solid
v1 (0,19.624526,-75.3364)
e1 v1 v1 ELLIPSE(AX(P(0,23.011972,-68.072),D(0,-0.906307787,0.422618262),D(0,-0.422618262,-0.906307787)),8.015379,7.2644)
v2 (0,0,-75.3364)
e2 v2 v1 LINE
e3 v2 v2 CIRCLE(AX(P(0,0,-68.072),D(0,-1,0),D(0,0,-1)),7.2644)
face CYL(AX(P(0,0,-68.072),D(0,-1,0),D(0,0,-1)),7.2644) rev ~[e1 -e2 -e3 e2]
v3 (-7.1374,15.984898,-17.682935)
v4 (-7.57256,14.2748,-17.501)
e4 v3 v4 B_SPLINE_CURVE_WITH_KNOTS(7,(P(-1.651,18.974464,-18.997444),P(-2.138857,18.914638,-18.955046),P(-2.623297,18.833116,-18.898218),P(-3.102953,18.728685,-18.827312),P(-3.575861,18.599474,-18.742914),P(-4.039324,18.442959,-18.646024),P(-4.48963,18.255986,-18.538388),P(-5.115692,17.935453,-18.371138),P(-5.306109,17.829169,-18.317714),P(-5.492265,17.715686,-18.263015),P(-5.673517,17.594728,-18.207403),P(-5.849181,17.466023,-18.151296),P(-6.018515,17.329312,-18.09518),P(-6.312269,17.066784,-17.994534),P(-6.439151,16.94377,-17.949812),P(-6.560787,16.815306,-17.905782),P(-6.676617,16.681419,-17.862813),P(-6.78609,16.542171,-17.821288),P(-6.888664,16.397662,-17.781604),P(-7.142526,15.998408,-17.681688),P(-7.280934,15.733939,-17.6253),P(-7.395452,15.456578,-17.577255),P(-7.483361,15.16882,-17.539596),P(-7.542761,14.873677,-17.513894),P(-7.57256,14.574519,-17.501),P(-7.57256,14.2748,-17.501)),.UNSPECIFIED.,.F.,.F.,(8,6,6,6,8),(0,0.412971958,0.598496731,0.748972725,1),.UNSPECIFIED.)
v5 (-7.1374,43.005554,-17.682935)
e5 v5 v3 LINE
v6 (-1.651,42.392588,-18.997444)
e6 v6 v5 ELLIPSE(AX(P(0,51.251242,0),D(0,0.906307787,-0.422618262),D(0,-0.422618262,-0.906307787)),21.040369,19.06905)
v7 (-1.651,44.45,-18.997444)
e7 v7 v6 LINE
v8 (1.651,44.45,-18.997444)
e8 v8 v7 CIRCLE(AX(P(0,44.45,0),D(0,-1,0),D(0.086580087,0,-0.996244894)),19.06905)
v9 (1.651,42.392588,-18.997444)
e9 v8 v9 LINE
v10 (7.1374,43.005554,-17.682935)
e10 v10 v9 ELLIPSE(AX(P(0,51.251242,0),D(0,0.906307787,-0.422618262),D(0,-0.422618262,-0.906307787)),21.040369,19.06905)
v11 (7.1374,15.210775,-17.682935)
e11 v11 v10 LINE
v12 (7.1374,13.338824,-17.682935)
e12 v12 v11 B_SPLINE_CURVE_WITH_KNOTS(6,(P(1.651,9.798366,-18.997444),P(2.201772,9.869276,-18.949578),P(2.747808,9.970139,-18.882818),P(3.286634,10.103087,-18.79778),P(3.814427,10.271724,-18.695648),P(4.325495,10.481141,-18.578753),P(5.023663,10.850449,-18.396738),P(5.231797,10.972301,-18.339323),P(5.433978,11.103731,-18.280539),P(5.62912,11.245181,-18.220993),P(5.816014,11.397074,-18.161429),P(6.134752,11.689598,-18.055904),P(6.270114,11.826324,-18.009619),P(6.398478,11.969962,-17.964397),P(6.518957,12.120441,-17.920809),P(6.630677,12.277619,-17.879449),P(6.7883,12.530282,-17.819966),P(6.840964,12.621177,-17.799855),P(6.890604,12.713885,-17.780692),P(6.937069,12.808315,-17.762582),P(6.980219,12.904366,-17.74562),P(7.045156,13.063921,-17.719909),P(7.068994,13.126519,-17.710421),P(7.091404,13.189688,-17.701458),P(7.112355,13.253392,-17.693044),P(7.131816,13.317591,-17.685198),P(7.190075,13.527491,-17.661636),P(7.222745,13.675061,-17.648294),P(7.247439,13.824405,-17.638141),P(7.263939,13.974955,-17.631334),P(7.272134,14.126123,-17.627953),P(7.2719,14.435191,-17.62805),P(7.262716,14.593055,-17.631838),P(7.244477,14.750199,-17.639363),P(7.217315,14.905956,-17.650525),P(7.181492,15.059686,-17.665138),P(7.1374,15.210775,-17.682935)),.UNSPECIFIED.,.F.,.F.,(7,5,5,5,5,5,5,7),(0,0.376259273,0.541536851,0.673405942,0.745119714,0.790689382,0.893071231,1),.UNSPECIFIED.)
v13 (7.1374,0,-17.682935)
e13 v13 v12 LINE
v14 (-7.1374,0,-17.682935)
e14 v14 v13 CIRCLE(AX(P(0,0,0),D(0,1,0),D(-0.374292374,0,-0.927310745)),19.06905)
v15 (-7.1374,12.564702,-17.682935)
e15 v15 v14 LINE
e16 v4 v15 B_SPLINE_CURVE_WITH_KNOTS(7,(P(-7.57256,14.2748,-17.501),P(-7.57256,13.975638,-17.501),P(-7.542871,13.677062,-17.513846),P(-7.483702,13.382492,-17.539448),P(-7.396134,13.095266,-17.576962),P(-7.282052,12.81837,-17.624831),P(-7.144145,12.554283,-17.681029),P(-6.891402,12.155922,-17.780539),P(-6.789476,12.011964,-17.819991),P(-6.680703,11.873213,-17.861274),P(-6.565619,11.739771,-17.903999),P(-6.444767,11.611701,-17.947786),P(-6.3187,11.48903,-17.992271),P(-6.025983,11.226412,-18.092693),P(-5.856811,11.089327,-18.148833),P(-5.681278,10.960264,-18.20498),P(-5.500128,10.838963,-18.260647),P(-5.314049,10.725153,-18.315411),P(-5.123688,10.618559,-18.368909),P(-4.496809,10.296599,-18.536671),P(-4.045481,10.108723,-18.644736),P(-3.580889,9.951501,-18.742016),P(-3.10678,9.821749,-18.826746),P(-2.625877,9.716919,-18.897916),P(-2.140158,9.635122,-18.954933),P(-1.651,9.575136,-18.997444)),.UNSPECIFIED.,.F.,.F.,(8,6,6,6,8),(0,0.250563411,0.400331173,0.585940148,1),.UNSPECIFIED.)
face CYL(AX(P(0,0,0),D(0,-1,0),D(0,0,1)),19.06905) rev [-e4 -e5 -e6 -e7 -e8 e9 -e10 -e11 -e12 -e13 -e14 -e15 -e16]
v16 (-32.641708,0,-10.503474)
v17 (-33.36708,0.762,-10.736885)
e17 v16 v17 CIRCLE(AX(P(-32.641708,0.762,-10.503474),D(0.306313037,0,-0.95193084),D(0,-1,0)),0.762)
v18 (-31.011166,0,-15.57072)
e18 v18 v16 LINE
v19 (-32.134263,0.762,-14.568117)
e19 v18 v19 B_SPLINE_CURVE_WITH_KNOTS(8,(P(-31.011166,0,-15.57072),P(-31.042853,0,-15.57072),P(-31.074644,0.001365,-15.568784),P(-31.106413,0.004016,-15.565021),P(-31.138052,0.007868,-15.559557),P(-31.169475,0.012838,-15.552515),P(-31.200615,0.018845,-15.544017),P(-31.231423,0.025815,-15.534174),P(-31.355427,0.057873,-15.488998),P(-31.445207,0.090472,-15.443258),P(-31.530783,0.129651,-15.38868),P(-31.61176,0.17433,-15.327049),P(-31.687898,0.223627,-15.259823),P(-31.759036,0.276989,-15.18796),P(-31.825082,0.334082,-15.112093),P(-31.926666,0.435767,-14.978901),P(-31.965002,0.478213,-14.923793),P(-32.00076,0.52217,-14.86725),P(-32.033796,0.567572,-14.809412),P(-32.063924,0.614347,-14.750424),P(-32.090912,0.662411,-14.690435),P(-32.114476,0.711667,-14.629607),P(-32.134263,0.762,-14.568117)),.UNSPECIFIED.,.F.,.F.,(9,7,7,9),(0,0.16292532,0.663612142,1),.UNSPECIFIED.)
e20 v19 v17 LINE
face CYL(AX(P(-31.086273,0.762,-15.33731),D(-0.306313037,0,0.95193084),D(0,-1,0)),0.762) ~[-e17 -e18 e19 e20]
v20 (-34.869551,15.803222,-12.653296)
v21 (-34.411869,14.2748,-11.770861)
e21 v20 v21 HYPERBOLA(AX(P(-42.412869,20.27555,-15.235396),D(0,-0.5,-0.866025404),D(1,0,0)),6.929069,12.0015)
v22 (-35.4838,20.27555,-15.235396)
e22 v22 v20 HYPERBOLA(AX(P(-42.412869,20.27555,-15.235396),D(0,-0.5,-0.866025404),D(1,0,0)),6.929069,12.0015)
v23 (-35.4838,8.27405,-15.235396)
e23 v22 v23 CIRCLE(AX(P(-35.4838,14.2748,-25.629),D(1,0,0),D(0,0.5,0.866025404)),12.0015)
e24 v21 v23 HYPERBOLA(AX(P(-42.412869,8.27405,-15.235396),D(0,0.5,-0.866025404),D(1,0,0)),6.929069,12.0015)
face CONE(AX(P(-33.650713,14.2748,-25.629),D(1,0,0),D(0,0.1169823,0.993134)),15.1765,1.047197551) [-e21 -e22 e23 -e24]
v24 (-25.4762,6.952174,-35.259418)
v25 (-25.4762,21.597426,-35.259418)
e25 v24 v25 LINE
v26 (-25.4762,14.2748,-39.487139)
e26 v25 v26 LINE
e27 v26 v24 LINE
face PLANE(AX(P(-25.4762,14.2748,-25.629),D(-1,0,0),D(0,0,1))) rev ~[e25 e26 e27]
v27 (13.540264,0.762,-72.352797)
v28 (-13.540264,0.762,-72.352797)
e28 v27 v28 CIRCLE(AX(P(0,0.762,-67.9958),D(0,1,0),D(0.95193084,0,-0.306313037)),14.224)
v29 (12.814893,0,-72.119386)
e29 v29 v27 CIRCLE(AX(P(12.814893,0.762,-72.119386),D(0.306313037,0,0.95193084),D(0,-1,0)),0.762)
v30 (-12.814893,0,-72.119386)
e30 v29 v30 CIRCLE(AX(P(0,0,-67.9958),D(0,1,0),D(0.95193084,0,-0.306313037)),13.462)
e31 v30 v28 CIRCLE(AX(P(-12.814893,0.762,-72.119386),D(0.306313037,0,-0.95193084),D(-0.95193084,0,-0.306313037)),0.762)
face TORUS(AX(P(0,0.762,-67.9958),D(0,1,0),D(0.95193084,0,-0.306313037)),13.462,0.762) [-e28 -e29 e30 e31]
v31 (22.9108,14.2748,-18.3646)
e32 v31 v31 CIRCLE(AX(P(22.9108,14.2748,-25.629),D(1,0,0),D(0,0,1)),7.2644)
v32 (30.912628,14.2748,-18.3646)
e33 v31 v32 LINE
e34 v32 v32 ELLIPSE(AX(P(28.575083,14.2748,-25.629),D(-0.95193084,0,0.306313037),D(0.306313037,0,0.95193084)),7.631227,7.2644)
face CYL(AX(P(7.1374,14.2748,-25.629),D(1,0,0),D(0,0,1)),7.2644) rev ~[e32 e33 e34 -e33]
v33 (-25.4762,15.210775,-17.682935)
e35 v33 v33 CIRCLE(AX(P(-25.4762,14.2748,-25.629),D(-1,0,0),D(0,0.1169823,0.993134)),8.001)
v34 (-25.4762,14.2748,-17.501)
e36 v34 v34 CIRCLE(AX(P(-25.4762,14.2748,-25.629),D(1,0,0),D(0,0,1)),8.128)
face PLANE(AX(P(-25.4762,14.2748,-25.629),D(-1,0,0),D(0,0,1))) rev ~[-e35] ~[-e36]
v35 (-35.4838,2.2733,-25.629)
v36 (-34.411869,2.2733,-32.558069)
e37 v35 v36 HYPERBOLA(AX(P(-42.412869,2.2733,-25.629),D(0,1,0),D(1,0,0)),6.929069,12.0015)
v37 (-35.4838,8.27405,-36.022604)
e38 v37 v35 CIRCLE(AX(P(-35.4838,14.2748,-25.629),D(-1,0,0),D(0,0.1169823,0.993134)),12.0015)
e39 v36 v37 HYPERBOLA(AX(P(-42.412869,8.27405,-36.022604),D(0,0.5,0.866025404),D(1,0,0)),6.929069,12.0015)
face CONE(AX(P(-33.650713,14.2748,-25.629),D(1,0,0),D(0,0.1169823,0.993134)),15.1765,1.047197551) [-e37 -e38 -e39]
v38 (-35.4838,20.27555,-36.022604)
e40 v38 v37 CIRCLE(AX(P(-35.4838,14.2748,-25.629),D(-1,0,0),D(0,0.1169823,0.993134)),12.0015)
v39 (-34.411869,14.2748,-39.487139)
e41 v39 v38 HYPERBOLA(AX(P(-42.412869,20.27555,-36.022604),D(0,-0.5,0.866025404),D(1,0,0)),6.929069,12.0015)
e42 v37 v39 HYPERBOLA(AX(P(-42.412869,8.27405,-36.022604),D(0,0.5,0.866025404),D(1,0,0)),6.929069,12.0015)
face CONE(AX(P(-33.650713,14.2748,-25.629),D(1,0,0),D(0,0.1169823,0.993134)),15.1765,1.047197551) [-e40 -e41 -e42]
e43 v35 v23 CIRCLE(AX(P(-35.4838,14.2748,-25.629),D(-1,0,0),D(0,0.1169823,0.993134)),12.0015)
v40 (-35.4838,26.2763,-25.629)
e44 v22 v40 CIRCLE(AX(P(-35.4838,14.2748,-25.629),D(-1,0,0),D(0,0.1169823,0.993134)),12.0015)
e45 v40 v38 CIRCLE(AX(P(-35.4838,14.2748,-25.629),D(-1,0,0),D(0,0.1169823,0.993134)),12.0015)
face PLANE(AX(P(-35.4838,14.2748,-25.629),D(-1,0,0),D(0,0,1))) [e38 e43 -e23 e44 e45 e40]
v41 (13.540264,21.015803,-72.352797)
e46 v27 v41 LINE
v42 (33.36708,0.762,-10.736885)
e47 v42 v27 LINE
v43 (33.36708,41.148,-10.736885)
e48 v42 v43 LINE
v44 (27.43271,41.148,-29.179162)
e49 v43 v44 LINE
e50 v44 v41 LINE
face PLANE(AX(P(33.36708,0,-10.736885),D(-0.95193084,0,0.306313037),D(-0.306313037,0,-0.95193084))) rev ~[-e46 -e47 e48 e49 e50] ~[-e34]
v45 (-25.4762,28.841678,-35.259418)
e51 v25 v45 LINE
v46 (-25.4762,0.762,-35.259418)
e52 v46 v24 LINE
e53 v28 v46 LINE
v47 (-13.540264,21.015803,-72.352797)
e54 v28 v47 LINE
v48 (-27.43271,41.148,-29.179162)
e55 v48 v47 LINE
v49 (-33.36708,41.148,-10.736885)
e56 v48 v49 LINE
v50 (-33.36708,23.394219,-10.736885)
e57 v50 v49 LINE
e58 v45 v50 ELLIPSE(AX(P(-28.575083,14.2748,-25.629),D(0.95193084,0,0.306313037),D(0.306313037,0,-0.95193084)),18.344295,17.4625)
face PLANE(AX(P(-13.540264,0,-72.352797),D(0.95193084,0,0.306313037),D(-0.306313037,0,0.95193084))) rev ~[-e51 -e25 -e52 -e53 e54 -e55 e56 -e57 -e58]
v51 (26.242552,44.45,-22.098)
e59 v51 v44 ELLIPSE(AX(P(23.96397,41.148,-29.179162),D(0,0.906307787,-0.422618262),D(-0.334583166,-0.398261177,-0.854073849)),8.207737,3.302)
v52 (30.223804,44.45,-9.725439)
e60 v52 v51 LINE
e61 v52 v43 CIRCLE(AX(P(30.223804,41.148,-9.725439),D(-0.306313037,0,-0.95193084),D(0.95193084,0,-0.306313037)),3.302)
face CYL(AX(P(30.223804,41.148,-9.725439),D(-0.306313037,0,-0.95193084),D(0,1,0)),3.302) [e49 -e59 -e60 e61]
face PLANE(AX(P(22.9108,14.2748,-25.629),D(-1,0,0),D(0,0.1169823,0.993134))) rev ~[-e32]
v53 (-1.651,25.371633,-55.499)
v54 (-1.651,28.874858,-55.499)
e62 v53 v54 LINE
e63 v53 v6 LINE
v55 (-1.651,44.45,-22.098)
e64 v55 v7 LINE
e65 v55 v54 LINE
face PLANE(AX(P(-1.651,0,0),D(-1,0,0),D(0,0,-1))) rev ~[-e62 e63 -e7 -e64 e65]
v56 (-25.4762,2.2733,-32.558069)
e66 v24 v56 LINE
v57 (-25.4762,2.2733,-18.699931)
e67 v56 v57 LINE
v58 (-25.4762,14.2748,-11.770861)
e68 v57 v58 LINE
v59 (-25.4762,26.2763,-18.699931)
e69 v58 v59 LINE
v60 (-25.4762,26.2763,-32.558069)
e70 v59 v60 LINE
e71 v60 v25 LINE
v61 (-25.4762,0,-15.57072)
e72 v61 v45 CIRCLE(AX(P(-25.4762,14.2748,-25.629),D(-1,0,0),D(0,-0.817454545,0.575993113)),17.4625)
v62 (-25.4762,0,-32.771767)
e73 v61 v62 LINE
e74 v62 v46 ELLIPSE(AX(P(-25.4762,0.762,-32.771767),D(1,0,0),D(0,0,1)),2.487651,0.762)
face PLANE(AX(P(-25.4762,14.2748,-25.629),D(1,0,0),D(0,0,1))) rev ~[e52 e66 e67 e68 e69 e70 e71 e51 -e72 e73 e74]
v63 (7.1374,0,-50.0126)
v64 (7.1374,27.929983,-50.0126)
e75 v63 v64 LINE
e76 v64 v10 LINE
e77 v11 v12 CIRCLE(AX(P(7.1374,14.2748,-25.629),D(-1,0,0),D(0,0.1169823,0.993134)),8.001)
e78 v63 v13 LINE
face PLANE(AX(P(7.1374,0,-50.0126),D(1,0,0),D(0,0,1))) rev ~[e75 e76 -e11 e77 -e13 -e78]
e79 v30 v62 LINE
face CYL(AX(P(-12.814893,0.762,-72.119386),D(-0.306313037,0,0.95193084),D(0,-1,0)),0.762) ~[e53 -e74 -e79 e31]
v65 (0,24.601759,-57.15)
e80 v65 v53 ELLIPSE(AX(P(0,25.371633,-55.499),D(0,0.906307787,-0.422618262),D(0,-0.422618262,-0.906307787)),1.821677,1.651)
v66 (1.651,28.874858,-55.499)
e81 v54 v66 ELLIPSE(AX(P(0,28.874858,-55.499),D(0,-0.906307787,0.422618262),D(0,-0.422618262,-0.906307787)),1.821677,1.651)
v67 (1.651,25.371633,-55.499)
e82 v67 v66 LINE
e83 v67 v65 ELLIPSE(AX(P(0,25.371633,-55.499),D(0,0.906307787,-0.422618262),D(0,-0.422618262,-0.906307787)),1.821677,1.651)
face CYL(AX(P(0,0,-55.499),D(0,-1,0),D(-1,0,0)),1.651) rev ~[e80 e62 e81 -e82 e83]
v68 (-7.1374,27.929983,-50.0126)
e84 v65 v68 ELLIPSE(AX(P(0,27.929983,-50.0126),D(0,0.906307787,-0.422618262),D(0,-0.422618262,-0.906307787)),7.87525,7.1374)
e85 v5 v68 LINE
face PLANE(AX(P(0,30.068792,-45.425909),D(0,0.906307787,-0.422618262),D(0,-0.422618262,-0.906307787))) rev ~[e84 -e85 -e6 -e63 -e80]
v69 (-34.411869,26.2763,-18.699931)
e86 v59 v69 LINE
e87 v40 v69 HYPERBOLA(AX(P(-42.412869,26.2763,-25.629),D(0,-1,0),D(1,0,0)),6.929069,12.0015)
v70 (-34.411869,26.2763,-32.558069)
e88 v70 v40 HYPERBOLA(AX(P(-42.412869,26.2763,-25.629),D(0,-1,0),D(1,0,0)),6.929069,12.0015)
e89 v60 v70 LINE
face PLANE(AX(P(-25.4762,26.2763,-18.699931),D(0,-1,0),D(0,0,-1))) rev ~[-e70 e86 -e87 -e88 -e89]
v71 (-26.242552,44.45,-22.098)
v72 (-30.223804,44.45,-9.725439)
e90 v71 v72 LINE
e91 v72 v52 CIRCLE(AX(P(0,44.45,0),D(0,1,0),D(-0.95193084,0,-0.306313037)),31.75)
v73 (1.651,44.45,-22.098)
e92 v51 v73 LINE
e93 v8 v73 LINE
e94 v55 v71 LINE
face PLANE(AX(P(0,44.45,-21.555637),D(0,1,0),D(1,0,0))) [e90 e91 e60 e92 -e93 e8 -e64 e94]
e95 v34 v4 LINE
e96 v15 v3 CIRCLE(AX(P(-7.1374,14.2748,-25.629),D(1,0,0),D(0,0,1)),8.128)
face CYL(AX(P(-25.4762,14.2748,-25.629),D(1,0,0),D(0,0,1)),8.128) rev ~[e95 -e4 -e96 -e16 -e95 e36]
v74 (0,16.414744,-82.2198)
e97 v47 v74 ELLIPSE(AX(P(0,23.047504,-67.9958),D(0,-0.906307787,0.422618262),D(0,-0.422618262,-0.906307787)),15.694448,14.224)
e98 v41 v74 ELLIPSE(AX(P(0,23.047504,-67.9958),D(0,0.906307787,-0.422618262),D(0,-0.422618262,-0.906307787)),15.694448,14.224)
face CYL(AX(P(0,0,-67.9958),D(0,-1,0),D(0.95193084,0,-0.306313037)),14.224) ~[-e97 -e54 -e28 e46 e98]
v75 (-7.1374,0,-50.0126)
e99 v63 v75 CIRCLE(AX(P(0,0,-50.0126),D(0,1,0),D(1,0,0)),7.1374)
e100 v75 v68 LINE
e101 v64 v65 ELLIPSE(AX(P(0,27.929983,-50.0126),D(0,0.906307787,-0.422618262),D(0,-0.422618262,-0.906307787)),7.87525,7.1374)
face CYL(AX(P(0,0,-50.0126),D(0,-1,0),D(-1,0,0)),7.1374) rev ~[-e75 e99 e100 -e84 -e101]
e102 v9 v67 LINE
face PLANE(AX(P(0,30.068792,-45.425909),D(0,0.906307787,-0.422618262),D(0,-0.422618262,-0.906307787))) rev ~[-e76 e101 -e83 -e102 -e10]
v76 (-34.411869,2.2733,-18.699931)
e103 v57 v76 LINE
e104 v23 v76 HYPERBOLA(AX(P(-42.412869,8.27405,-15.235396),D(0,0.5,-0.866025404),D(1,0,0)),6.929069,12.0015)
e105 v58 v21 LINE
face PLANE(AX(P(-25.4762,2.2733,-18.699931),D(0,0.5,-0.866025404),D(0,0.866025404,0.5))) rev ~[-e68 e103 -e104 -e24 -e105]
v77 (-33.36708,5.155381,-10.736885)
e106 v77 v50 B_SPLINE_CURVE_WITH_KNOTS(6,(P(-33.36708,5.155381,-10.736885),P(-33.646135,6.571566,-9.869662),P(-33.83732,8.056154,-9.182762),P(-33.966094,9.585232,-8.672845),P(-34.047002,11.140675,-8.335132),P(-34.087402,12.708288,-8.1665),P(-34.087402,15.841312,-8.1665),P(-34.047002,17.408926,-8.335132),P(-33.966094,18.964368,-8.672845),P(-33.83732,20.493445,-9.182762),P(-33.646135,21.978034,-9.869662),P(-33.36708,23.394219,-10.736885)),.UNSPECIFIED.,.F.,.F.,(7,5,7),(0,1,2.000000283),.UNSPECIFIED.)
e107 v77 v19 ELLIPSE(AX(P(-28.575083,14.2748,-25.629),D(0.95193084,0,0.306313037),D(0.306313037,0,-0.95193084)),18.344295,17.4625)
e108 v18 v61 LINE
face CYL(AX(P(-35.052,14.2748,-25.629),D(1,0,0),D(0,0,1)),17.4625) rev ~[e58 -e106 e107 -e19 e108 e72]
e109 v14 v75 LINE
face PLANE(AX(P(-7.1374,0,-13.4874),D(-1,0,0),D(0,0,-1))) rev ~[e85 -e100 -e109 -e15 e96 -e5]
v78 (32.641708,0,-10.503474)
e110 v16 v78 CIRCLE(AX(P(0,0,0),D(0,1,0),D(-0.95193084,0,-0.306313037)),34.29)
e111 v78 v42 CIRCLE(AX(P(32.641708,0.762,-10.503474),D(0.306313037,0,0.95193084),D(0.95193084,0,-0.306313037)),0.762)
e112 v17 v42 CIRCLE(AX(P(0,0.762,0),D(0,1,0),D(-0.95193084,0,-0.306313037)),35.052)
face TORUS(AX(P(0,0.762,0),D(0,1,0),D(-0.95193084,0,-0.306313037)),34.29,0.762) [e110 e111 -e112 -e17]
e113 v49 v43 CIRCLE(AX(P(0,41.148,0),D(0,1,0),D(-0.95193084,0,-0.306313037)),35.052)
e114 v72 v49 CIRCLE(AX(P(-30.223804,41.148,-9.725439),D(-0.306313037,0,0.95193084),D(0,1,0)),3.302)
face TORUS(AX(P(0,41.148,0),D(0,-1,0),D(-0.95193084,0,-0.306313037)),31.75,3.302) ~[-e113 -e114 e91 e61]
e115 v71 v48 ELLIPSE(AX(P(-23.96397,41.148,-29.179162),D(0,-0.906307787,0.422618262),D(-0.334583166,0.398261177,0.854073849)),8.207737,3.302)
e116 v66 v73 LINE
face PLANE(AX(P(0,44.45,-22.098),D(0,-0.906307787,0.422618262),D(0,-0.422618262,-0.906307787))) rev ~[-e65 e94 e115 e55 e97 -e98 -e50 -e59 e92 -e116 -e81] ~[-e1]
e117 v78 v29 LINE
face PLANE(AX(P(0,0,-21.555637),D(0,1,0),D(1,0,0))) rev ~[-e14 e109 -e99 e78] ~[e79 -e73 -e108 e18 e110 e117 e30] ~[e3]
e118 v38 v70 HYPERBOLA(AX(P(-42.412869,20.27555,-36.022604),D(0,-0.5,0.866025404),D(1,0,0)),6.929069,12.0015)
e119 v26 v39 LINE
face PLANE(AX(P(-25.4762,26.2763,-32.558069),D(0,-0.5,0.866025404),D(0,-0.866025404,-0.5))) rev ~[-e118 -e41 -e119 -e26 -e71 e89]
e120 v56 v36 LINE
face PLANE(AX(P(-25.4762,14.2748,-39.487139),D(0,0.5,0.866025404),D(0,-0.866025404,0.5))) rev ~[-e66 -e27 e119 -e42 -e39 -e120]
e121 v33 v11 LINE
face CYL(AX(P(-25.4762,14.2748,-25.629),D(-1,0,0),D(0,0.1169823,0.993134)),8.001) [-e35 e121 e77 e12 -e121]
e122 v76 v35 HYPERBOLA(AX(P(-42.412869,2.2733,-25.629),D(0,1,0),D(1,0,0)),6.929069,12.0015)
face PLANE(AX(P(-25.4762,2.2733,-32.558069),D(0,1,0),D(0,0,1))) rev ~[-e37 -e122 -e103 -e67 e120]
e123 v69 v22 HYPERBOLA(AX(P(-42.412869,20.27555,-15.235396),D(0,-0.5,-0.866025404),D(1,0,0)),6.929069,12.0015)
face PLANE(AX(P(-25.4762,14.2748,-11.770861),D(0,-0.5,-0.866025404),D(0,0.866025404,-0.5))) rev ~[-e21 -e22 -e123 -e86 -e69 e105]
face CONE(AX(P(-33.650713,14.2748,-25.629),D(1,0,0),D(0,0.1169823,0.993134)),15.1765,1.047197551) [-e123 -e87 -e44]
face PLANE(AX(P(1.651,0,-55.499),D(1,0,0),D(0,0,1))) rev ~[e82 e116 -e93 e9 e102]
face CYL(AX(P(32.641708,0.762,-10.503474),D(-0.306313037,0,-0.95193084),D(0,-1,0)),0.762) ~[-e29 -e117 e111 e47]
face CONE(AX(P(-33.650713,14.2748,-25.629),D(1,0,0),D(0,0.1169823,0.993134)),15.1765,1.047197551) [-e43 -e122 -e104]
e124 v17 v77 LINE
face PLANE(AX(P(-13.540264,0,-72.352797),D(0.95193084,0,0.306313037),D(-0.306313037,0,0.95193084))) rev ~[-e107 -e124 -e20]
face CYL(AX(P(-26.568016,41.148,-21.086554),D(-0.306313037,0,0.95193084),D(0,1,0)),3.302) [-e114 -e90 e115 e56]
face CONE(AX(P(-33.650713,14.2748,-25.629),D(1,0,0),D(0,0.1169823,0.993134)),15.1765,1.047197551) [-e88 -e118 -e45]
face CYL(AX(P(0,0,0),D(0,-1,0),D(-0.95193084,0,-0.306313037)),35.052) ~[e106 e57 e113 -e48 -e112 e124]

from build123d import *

# Parameters (mm, degrees)
SKETCH1_R                        = 19.06905
EXTRUDE1_DEPTH                   = 44.45
CUT_EXTRUDE1_DEPTH               = 36.052
CUT_EXTRUDE1_DEPTH_BACK          = 36.052
CUT_EXTRUDE2_REACH               = 49.625
CUT_EXTRUDE2_OFFSET_FROM_SURFACE = 3.175
CUT_EXTRUDE3_DEPTH               = 45.45
EXTRUDE2_DEPTH                   = 10.0076
SKETCH7_R                        = 8.001
EXTRUDE3_DEPTH                   = 48.387
SKETCH9_R                        = 7.2644
CUT_EXTRUDE4_DEPTH               = 45.4500001
FILLET1_R                        = 3.302
FILLET2_R                        = 0.762


with BuildPart() as part:
    # Sketch1 → Extrude1 (new body)
    with BuildSketch(Plane(origin=(0, 0, 0), x_dir=(1, 0, 0), z_dir=(0, 1, 0))):
        with BuildLine():
            Line((-13.540264262, 72.352796638), (-33.36707979, 10.736884572))
            ThreePointArc((-33.36707979, 10.736884572), (0, -35.052), (33.36707979, 10.736884572))
            Line((33.36707979, 10.736884572), (13.540264262, 72.352796638))
            ThreePointArc((13.540264262, 72.352796638), (0, 82.2198), (-13.540264262, 72.352796638))
        make_face()
        with Locations(Location((0, 0, 0), (0, 0, 270))):  # turned: the seam where the file's is
            Circle(SKETCH1_R, mode=Mode.SUBTRACT)
    extrude(amount=EXTRUDE1_DEPTH)

    # Sketch2 → Cut-Extrude1 (cut, two sides)
    with BuildSketch(Plane(origin=(0, 0, 0), x_dir=(0, 0, -1), z_dir=(1, 0, 0))) as cut_extrude1_sk:
        Polygon((22.098, 44.45), (82.2198, 16.414744238), (82.2198, 44.45), align=None)
    extrude(amount=CUT_EXTRUDE1_DEPTH, mode=Mode.SUBTRACT)
    extrude(cut_extrude1_sk.sketch, amount=-CUT_EXTRUDE1_DEPTH_BACK, mode=Mode.SUBTRACT)

    # Cut-Extrude2: up to this face of the body (flat: up to its plane, moved by the offset)
    cut_extrude2_end = Plane(part.part.faces().sort_by_distance((0, 32.9463195, -46.767722444))[0]).offset(-CUT_EXTRUDE2_OFFSET_FROM_SURFACE)
    # Sketch3 → Cut-Extrude2 (cut, up to the picked face)
    with BuildSketch(Plane.XZ, mode=Mode.PRIVATE) as cut_extrude2_sk1:
        with BuildLine():
            Line((-7.1374, -13.4874), (-7.1374, -50.0126))
            ThreePointArc((-7.1374, -50.0126), (0, -57.15), (7.1374, -50.0126))
            Line((7.1374, -50.0126), (7.1374, -13.4874))
            ThreePointArc((7.1374, -13.4874), (0, -6.35), (-7.1374, -13.4874))
        make_face()
    cut_extrude2_tool1 = split(extrude(cut_extrude2_sk1.sketch, amount=-CUT_EXTRUDE2_REACH, mode=Mode.PRIVATE), bisect_by=cut_extrude2_end, keep=Keep.BOTH, mode=Mode.PRIVATE)
    add(cut_extrude2_tool1.solids().sort_by(Axis((0, 0, -31.75), (0, 1, 0)))[0], mode=Mode.SUBTRACT)

    # Sketch4 → Cut-Extrude3 (cut, through all)
    with BuildSketch(Plane.XZ):
        with BuildLine():
            Line((-1.651, 0), (-1.651, -55.499))
            ThreePointArc((-1.651, -55.499), (0, -57.15), (1.651, -55.499))
            Line((1.651, -55.499), (1.651, 0))
            Line((1.651, 0), (-1.651, 0))
        make_face()
    extrude(amount=-CUT_EXTRUDE3_DEPTH, mode=Mode.SUBTRACT)

    # Sketch5 → Cut-Revolve1 (revolve, cut)
    with BuildSketch(Plane.XY.offset(-25.629), mode=Mode.PRIVATE) as cut_revolve1_sk:
        Polygon((-35.052, 31.7373), (-25.4762, 31.7373), (-25.4762, 22.4028), (7.1374, 22.4028), (7.1374, 21.5392), (35.052, 21.5392), (35.052, 14.2748), (-35.052, 14.2748), align=None)
    revolve(cut_revolve1_sk.sketch.rotate(Axis((-30.107344341, 14.2748, -25.629), (1, 0, 0)), 90), axis=Axis((-30.107344341, 14.2748, -25.629), (1, 0, 0)), mode=Mode.SUBTRACT)  # turned: the seam where the file's is

    # Sketch6 → Extrude2 (add)
    with BuildSketch(Plane.ZY.offset(25.4762)):
        Polygon((-11.770861489, 14.2748), (-18.699930744, 26.2763), (-32.558069256, 26.2763), (-39.487138511, 14.2748), (-32.558069256, 2.2733), (-18.699930744, 2.2733), align=None)
    extrude(amount=EXTRUDE2_DEPTH)

    # Sketch7 → Extrude3 (add)
    with BuildSketch(Plane.ZY.offset(25.4762)):
        with Locations(Location((-25.629, 14.2748, 0), (0, 0, 6.717974343))):  # turned: the seam where the file's is
            Circle(SKETCH7_R)
    extrude(amount=-EXTRUDE3_DEPTH)

    # Sketch8 → Cut-Revolve2 (revolve, cut)
    with BuildSketch(Plane.XY.offset(-25.629), mode=Mode.PRIVATE) as cut_revolve2_sk:
        Polygon((-35.4838, 2.2733), (-35.4838, -0.9017), (-33.650712895, -0.9017), align=None)
    revolve(cut_revolve2_sk.sketch.rotate(Axis((-5.551302264, 14.2748, -25.629), (-1, 0, 0)), 96.717974343), axis=Axis((-5.551302264, 14.2748, -25.629), (-1, 0, 0)), mode=Mode.SUBTRACT)  # turned: the seam where the file's is

    # Sketch9 → Cut-Extrude4 (cut, through all)
    with BuildSketch(Plane.XZ):
        with Locations(Location((0, -68.072, 0), (0, 0, 270))):  # turned: the seam where the file's is
            Circle(SKETCH9_R)
    extrude(amount=-CUT_EXTRUDE4_DEPTH, mode=Mode.SUBTRACT)

    # Fillet1
    fillet1_edges = [part.edges().sort_by_distance(p)[0] for p in [
        (0, 44.45, 35.052),
        (31.539185564, 44.45, -16.417442286),
        (-31.539185564, 44.45, -16.417442286),
    ]]
    fillet(fillet1_edges, radius=FILLET1_R)

    # Fillet2
    fillet2_edges = [part.edges().sort_by_distance(p)[0] for p in [
        (-32.589362108, 0, -13.153802419),
        (0, 0, 35.052),
        (23.453672026, 0, -41.544840605),
        (0, 0, -82.2198),
        (-19.508232131, 0, -53.806107539),
    ]]
    fillet(fillet2_edges, radius=FILLET2_R)


solid = part.part
